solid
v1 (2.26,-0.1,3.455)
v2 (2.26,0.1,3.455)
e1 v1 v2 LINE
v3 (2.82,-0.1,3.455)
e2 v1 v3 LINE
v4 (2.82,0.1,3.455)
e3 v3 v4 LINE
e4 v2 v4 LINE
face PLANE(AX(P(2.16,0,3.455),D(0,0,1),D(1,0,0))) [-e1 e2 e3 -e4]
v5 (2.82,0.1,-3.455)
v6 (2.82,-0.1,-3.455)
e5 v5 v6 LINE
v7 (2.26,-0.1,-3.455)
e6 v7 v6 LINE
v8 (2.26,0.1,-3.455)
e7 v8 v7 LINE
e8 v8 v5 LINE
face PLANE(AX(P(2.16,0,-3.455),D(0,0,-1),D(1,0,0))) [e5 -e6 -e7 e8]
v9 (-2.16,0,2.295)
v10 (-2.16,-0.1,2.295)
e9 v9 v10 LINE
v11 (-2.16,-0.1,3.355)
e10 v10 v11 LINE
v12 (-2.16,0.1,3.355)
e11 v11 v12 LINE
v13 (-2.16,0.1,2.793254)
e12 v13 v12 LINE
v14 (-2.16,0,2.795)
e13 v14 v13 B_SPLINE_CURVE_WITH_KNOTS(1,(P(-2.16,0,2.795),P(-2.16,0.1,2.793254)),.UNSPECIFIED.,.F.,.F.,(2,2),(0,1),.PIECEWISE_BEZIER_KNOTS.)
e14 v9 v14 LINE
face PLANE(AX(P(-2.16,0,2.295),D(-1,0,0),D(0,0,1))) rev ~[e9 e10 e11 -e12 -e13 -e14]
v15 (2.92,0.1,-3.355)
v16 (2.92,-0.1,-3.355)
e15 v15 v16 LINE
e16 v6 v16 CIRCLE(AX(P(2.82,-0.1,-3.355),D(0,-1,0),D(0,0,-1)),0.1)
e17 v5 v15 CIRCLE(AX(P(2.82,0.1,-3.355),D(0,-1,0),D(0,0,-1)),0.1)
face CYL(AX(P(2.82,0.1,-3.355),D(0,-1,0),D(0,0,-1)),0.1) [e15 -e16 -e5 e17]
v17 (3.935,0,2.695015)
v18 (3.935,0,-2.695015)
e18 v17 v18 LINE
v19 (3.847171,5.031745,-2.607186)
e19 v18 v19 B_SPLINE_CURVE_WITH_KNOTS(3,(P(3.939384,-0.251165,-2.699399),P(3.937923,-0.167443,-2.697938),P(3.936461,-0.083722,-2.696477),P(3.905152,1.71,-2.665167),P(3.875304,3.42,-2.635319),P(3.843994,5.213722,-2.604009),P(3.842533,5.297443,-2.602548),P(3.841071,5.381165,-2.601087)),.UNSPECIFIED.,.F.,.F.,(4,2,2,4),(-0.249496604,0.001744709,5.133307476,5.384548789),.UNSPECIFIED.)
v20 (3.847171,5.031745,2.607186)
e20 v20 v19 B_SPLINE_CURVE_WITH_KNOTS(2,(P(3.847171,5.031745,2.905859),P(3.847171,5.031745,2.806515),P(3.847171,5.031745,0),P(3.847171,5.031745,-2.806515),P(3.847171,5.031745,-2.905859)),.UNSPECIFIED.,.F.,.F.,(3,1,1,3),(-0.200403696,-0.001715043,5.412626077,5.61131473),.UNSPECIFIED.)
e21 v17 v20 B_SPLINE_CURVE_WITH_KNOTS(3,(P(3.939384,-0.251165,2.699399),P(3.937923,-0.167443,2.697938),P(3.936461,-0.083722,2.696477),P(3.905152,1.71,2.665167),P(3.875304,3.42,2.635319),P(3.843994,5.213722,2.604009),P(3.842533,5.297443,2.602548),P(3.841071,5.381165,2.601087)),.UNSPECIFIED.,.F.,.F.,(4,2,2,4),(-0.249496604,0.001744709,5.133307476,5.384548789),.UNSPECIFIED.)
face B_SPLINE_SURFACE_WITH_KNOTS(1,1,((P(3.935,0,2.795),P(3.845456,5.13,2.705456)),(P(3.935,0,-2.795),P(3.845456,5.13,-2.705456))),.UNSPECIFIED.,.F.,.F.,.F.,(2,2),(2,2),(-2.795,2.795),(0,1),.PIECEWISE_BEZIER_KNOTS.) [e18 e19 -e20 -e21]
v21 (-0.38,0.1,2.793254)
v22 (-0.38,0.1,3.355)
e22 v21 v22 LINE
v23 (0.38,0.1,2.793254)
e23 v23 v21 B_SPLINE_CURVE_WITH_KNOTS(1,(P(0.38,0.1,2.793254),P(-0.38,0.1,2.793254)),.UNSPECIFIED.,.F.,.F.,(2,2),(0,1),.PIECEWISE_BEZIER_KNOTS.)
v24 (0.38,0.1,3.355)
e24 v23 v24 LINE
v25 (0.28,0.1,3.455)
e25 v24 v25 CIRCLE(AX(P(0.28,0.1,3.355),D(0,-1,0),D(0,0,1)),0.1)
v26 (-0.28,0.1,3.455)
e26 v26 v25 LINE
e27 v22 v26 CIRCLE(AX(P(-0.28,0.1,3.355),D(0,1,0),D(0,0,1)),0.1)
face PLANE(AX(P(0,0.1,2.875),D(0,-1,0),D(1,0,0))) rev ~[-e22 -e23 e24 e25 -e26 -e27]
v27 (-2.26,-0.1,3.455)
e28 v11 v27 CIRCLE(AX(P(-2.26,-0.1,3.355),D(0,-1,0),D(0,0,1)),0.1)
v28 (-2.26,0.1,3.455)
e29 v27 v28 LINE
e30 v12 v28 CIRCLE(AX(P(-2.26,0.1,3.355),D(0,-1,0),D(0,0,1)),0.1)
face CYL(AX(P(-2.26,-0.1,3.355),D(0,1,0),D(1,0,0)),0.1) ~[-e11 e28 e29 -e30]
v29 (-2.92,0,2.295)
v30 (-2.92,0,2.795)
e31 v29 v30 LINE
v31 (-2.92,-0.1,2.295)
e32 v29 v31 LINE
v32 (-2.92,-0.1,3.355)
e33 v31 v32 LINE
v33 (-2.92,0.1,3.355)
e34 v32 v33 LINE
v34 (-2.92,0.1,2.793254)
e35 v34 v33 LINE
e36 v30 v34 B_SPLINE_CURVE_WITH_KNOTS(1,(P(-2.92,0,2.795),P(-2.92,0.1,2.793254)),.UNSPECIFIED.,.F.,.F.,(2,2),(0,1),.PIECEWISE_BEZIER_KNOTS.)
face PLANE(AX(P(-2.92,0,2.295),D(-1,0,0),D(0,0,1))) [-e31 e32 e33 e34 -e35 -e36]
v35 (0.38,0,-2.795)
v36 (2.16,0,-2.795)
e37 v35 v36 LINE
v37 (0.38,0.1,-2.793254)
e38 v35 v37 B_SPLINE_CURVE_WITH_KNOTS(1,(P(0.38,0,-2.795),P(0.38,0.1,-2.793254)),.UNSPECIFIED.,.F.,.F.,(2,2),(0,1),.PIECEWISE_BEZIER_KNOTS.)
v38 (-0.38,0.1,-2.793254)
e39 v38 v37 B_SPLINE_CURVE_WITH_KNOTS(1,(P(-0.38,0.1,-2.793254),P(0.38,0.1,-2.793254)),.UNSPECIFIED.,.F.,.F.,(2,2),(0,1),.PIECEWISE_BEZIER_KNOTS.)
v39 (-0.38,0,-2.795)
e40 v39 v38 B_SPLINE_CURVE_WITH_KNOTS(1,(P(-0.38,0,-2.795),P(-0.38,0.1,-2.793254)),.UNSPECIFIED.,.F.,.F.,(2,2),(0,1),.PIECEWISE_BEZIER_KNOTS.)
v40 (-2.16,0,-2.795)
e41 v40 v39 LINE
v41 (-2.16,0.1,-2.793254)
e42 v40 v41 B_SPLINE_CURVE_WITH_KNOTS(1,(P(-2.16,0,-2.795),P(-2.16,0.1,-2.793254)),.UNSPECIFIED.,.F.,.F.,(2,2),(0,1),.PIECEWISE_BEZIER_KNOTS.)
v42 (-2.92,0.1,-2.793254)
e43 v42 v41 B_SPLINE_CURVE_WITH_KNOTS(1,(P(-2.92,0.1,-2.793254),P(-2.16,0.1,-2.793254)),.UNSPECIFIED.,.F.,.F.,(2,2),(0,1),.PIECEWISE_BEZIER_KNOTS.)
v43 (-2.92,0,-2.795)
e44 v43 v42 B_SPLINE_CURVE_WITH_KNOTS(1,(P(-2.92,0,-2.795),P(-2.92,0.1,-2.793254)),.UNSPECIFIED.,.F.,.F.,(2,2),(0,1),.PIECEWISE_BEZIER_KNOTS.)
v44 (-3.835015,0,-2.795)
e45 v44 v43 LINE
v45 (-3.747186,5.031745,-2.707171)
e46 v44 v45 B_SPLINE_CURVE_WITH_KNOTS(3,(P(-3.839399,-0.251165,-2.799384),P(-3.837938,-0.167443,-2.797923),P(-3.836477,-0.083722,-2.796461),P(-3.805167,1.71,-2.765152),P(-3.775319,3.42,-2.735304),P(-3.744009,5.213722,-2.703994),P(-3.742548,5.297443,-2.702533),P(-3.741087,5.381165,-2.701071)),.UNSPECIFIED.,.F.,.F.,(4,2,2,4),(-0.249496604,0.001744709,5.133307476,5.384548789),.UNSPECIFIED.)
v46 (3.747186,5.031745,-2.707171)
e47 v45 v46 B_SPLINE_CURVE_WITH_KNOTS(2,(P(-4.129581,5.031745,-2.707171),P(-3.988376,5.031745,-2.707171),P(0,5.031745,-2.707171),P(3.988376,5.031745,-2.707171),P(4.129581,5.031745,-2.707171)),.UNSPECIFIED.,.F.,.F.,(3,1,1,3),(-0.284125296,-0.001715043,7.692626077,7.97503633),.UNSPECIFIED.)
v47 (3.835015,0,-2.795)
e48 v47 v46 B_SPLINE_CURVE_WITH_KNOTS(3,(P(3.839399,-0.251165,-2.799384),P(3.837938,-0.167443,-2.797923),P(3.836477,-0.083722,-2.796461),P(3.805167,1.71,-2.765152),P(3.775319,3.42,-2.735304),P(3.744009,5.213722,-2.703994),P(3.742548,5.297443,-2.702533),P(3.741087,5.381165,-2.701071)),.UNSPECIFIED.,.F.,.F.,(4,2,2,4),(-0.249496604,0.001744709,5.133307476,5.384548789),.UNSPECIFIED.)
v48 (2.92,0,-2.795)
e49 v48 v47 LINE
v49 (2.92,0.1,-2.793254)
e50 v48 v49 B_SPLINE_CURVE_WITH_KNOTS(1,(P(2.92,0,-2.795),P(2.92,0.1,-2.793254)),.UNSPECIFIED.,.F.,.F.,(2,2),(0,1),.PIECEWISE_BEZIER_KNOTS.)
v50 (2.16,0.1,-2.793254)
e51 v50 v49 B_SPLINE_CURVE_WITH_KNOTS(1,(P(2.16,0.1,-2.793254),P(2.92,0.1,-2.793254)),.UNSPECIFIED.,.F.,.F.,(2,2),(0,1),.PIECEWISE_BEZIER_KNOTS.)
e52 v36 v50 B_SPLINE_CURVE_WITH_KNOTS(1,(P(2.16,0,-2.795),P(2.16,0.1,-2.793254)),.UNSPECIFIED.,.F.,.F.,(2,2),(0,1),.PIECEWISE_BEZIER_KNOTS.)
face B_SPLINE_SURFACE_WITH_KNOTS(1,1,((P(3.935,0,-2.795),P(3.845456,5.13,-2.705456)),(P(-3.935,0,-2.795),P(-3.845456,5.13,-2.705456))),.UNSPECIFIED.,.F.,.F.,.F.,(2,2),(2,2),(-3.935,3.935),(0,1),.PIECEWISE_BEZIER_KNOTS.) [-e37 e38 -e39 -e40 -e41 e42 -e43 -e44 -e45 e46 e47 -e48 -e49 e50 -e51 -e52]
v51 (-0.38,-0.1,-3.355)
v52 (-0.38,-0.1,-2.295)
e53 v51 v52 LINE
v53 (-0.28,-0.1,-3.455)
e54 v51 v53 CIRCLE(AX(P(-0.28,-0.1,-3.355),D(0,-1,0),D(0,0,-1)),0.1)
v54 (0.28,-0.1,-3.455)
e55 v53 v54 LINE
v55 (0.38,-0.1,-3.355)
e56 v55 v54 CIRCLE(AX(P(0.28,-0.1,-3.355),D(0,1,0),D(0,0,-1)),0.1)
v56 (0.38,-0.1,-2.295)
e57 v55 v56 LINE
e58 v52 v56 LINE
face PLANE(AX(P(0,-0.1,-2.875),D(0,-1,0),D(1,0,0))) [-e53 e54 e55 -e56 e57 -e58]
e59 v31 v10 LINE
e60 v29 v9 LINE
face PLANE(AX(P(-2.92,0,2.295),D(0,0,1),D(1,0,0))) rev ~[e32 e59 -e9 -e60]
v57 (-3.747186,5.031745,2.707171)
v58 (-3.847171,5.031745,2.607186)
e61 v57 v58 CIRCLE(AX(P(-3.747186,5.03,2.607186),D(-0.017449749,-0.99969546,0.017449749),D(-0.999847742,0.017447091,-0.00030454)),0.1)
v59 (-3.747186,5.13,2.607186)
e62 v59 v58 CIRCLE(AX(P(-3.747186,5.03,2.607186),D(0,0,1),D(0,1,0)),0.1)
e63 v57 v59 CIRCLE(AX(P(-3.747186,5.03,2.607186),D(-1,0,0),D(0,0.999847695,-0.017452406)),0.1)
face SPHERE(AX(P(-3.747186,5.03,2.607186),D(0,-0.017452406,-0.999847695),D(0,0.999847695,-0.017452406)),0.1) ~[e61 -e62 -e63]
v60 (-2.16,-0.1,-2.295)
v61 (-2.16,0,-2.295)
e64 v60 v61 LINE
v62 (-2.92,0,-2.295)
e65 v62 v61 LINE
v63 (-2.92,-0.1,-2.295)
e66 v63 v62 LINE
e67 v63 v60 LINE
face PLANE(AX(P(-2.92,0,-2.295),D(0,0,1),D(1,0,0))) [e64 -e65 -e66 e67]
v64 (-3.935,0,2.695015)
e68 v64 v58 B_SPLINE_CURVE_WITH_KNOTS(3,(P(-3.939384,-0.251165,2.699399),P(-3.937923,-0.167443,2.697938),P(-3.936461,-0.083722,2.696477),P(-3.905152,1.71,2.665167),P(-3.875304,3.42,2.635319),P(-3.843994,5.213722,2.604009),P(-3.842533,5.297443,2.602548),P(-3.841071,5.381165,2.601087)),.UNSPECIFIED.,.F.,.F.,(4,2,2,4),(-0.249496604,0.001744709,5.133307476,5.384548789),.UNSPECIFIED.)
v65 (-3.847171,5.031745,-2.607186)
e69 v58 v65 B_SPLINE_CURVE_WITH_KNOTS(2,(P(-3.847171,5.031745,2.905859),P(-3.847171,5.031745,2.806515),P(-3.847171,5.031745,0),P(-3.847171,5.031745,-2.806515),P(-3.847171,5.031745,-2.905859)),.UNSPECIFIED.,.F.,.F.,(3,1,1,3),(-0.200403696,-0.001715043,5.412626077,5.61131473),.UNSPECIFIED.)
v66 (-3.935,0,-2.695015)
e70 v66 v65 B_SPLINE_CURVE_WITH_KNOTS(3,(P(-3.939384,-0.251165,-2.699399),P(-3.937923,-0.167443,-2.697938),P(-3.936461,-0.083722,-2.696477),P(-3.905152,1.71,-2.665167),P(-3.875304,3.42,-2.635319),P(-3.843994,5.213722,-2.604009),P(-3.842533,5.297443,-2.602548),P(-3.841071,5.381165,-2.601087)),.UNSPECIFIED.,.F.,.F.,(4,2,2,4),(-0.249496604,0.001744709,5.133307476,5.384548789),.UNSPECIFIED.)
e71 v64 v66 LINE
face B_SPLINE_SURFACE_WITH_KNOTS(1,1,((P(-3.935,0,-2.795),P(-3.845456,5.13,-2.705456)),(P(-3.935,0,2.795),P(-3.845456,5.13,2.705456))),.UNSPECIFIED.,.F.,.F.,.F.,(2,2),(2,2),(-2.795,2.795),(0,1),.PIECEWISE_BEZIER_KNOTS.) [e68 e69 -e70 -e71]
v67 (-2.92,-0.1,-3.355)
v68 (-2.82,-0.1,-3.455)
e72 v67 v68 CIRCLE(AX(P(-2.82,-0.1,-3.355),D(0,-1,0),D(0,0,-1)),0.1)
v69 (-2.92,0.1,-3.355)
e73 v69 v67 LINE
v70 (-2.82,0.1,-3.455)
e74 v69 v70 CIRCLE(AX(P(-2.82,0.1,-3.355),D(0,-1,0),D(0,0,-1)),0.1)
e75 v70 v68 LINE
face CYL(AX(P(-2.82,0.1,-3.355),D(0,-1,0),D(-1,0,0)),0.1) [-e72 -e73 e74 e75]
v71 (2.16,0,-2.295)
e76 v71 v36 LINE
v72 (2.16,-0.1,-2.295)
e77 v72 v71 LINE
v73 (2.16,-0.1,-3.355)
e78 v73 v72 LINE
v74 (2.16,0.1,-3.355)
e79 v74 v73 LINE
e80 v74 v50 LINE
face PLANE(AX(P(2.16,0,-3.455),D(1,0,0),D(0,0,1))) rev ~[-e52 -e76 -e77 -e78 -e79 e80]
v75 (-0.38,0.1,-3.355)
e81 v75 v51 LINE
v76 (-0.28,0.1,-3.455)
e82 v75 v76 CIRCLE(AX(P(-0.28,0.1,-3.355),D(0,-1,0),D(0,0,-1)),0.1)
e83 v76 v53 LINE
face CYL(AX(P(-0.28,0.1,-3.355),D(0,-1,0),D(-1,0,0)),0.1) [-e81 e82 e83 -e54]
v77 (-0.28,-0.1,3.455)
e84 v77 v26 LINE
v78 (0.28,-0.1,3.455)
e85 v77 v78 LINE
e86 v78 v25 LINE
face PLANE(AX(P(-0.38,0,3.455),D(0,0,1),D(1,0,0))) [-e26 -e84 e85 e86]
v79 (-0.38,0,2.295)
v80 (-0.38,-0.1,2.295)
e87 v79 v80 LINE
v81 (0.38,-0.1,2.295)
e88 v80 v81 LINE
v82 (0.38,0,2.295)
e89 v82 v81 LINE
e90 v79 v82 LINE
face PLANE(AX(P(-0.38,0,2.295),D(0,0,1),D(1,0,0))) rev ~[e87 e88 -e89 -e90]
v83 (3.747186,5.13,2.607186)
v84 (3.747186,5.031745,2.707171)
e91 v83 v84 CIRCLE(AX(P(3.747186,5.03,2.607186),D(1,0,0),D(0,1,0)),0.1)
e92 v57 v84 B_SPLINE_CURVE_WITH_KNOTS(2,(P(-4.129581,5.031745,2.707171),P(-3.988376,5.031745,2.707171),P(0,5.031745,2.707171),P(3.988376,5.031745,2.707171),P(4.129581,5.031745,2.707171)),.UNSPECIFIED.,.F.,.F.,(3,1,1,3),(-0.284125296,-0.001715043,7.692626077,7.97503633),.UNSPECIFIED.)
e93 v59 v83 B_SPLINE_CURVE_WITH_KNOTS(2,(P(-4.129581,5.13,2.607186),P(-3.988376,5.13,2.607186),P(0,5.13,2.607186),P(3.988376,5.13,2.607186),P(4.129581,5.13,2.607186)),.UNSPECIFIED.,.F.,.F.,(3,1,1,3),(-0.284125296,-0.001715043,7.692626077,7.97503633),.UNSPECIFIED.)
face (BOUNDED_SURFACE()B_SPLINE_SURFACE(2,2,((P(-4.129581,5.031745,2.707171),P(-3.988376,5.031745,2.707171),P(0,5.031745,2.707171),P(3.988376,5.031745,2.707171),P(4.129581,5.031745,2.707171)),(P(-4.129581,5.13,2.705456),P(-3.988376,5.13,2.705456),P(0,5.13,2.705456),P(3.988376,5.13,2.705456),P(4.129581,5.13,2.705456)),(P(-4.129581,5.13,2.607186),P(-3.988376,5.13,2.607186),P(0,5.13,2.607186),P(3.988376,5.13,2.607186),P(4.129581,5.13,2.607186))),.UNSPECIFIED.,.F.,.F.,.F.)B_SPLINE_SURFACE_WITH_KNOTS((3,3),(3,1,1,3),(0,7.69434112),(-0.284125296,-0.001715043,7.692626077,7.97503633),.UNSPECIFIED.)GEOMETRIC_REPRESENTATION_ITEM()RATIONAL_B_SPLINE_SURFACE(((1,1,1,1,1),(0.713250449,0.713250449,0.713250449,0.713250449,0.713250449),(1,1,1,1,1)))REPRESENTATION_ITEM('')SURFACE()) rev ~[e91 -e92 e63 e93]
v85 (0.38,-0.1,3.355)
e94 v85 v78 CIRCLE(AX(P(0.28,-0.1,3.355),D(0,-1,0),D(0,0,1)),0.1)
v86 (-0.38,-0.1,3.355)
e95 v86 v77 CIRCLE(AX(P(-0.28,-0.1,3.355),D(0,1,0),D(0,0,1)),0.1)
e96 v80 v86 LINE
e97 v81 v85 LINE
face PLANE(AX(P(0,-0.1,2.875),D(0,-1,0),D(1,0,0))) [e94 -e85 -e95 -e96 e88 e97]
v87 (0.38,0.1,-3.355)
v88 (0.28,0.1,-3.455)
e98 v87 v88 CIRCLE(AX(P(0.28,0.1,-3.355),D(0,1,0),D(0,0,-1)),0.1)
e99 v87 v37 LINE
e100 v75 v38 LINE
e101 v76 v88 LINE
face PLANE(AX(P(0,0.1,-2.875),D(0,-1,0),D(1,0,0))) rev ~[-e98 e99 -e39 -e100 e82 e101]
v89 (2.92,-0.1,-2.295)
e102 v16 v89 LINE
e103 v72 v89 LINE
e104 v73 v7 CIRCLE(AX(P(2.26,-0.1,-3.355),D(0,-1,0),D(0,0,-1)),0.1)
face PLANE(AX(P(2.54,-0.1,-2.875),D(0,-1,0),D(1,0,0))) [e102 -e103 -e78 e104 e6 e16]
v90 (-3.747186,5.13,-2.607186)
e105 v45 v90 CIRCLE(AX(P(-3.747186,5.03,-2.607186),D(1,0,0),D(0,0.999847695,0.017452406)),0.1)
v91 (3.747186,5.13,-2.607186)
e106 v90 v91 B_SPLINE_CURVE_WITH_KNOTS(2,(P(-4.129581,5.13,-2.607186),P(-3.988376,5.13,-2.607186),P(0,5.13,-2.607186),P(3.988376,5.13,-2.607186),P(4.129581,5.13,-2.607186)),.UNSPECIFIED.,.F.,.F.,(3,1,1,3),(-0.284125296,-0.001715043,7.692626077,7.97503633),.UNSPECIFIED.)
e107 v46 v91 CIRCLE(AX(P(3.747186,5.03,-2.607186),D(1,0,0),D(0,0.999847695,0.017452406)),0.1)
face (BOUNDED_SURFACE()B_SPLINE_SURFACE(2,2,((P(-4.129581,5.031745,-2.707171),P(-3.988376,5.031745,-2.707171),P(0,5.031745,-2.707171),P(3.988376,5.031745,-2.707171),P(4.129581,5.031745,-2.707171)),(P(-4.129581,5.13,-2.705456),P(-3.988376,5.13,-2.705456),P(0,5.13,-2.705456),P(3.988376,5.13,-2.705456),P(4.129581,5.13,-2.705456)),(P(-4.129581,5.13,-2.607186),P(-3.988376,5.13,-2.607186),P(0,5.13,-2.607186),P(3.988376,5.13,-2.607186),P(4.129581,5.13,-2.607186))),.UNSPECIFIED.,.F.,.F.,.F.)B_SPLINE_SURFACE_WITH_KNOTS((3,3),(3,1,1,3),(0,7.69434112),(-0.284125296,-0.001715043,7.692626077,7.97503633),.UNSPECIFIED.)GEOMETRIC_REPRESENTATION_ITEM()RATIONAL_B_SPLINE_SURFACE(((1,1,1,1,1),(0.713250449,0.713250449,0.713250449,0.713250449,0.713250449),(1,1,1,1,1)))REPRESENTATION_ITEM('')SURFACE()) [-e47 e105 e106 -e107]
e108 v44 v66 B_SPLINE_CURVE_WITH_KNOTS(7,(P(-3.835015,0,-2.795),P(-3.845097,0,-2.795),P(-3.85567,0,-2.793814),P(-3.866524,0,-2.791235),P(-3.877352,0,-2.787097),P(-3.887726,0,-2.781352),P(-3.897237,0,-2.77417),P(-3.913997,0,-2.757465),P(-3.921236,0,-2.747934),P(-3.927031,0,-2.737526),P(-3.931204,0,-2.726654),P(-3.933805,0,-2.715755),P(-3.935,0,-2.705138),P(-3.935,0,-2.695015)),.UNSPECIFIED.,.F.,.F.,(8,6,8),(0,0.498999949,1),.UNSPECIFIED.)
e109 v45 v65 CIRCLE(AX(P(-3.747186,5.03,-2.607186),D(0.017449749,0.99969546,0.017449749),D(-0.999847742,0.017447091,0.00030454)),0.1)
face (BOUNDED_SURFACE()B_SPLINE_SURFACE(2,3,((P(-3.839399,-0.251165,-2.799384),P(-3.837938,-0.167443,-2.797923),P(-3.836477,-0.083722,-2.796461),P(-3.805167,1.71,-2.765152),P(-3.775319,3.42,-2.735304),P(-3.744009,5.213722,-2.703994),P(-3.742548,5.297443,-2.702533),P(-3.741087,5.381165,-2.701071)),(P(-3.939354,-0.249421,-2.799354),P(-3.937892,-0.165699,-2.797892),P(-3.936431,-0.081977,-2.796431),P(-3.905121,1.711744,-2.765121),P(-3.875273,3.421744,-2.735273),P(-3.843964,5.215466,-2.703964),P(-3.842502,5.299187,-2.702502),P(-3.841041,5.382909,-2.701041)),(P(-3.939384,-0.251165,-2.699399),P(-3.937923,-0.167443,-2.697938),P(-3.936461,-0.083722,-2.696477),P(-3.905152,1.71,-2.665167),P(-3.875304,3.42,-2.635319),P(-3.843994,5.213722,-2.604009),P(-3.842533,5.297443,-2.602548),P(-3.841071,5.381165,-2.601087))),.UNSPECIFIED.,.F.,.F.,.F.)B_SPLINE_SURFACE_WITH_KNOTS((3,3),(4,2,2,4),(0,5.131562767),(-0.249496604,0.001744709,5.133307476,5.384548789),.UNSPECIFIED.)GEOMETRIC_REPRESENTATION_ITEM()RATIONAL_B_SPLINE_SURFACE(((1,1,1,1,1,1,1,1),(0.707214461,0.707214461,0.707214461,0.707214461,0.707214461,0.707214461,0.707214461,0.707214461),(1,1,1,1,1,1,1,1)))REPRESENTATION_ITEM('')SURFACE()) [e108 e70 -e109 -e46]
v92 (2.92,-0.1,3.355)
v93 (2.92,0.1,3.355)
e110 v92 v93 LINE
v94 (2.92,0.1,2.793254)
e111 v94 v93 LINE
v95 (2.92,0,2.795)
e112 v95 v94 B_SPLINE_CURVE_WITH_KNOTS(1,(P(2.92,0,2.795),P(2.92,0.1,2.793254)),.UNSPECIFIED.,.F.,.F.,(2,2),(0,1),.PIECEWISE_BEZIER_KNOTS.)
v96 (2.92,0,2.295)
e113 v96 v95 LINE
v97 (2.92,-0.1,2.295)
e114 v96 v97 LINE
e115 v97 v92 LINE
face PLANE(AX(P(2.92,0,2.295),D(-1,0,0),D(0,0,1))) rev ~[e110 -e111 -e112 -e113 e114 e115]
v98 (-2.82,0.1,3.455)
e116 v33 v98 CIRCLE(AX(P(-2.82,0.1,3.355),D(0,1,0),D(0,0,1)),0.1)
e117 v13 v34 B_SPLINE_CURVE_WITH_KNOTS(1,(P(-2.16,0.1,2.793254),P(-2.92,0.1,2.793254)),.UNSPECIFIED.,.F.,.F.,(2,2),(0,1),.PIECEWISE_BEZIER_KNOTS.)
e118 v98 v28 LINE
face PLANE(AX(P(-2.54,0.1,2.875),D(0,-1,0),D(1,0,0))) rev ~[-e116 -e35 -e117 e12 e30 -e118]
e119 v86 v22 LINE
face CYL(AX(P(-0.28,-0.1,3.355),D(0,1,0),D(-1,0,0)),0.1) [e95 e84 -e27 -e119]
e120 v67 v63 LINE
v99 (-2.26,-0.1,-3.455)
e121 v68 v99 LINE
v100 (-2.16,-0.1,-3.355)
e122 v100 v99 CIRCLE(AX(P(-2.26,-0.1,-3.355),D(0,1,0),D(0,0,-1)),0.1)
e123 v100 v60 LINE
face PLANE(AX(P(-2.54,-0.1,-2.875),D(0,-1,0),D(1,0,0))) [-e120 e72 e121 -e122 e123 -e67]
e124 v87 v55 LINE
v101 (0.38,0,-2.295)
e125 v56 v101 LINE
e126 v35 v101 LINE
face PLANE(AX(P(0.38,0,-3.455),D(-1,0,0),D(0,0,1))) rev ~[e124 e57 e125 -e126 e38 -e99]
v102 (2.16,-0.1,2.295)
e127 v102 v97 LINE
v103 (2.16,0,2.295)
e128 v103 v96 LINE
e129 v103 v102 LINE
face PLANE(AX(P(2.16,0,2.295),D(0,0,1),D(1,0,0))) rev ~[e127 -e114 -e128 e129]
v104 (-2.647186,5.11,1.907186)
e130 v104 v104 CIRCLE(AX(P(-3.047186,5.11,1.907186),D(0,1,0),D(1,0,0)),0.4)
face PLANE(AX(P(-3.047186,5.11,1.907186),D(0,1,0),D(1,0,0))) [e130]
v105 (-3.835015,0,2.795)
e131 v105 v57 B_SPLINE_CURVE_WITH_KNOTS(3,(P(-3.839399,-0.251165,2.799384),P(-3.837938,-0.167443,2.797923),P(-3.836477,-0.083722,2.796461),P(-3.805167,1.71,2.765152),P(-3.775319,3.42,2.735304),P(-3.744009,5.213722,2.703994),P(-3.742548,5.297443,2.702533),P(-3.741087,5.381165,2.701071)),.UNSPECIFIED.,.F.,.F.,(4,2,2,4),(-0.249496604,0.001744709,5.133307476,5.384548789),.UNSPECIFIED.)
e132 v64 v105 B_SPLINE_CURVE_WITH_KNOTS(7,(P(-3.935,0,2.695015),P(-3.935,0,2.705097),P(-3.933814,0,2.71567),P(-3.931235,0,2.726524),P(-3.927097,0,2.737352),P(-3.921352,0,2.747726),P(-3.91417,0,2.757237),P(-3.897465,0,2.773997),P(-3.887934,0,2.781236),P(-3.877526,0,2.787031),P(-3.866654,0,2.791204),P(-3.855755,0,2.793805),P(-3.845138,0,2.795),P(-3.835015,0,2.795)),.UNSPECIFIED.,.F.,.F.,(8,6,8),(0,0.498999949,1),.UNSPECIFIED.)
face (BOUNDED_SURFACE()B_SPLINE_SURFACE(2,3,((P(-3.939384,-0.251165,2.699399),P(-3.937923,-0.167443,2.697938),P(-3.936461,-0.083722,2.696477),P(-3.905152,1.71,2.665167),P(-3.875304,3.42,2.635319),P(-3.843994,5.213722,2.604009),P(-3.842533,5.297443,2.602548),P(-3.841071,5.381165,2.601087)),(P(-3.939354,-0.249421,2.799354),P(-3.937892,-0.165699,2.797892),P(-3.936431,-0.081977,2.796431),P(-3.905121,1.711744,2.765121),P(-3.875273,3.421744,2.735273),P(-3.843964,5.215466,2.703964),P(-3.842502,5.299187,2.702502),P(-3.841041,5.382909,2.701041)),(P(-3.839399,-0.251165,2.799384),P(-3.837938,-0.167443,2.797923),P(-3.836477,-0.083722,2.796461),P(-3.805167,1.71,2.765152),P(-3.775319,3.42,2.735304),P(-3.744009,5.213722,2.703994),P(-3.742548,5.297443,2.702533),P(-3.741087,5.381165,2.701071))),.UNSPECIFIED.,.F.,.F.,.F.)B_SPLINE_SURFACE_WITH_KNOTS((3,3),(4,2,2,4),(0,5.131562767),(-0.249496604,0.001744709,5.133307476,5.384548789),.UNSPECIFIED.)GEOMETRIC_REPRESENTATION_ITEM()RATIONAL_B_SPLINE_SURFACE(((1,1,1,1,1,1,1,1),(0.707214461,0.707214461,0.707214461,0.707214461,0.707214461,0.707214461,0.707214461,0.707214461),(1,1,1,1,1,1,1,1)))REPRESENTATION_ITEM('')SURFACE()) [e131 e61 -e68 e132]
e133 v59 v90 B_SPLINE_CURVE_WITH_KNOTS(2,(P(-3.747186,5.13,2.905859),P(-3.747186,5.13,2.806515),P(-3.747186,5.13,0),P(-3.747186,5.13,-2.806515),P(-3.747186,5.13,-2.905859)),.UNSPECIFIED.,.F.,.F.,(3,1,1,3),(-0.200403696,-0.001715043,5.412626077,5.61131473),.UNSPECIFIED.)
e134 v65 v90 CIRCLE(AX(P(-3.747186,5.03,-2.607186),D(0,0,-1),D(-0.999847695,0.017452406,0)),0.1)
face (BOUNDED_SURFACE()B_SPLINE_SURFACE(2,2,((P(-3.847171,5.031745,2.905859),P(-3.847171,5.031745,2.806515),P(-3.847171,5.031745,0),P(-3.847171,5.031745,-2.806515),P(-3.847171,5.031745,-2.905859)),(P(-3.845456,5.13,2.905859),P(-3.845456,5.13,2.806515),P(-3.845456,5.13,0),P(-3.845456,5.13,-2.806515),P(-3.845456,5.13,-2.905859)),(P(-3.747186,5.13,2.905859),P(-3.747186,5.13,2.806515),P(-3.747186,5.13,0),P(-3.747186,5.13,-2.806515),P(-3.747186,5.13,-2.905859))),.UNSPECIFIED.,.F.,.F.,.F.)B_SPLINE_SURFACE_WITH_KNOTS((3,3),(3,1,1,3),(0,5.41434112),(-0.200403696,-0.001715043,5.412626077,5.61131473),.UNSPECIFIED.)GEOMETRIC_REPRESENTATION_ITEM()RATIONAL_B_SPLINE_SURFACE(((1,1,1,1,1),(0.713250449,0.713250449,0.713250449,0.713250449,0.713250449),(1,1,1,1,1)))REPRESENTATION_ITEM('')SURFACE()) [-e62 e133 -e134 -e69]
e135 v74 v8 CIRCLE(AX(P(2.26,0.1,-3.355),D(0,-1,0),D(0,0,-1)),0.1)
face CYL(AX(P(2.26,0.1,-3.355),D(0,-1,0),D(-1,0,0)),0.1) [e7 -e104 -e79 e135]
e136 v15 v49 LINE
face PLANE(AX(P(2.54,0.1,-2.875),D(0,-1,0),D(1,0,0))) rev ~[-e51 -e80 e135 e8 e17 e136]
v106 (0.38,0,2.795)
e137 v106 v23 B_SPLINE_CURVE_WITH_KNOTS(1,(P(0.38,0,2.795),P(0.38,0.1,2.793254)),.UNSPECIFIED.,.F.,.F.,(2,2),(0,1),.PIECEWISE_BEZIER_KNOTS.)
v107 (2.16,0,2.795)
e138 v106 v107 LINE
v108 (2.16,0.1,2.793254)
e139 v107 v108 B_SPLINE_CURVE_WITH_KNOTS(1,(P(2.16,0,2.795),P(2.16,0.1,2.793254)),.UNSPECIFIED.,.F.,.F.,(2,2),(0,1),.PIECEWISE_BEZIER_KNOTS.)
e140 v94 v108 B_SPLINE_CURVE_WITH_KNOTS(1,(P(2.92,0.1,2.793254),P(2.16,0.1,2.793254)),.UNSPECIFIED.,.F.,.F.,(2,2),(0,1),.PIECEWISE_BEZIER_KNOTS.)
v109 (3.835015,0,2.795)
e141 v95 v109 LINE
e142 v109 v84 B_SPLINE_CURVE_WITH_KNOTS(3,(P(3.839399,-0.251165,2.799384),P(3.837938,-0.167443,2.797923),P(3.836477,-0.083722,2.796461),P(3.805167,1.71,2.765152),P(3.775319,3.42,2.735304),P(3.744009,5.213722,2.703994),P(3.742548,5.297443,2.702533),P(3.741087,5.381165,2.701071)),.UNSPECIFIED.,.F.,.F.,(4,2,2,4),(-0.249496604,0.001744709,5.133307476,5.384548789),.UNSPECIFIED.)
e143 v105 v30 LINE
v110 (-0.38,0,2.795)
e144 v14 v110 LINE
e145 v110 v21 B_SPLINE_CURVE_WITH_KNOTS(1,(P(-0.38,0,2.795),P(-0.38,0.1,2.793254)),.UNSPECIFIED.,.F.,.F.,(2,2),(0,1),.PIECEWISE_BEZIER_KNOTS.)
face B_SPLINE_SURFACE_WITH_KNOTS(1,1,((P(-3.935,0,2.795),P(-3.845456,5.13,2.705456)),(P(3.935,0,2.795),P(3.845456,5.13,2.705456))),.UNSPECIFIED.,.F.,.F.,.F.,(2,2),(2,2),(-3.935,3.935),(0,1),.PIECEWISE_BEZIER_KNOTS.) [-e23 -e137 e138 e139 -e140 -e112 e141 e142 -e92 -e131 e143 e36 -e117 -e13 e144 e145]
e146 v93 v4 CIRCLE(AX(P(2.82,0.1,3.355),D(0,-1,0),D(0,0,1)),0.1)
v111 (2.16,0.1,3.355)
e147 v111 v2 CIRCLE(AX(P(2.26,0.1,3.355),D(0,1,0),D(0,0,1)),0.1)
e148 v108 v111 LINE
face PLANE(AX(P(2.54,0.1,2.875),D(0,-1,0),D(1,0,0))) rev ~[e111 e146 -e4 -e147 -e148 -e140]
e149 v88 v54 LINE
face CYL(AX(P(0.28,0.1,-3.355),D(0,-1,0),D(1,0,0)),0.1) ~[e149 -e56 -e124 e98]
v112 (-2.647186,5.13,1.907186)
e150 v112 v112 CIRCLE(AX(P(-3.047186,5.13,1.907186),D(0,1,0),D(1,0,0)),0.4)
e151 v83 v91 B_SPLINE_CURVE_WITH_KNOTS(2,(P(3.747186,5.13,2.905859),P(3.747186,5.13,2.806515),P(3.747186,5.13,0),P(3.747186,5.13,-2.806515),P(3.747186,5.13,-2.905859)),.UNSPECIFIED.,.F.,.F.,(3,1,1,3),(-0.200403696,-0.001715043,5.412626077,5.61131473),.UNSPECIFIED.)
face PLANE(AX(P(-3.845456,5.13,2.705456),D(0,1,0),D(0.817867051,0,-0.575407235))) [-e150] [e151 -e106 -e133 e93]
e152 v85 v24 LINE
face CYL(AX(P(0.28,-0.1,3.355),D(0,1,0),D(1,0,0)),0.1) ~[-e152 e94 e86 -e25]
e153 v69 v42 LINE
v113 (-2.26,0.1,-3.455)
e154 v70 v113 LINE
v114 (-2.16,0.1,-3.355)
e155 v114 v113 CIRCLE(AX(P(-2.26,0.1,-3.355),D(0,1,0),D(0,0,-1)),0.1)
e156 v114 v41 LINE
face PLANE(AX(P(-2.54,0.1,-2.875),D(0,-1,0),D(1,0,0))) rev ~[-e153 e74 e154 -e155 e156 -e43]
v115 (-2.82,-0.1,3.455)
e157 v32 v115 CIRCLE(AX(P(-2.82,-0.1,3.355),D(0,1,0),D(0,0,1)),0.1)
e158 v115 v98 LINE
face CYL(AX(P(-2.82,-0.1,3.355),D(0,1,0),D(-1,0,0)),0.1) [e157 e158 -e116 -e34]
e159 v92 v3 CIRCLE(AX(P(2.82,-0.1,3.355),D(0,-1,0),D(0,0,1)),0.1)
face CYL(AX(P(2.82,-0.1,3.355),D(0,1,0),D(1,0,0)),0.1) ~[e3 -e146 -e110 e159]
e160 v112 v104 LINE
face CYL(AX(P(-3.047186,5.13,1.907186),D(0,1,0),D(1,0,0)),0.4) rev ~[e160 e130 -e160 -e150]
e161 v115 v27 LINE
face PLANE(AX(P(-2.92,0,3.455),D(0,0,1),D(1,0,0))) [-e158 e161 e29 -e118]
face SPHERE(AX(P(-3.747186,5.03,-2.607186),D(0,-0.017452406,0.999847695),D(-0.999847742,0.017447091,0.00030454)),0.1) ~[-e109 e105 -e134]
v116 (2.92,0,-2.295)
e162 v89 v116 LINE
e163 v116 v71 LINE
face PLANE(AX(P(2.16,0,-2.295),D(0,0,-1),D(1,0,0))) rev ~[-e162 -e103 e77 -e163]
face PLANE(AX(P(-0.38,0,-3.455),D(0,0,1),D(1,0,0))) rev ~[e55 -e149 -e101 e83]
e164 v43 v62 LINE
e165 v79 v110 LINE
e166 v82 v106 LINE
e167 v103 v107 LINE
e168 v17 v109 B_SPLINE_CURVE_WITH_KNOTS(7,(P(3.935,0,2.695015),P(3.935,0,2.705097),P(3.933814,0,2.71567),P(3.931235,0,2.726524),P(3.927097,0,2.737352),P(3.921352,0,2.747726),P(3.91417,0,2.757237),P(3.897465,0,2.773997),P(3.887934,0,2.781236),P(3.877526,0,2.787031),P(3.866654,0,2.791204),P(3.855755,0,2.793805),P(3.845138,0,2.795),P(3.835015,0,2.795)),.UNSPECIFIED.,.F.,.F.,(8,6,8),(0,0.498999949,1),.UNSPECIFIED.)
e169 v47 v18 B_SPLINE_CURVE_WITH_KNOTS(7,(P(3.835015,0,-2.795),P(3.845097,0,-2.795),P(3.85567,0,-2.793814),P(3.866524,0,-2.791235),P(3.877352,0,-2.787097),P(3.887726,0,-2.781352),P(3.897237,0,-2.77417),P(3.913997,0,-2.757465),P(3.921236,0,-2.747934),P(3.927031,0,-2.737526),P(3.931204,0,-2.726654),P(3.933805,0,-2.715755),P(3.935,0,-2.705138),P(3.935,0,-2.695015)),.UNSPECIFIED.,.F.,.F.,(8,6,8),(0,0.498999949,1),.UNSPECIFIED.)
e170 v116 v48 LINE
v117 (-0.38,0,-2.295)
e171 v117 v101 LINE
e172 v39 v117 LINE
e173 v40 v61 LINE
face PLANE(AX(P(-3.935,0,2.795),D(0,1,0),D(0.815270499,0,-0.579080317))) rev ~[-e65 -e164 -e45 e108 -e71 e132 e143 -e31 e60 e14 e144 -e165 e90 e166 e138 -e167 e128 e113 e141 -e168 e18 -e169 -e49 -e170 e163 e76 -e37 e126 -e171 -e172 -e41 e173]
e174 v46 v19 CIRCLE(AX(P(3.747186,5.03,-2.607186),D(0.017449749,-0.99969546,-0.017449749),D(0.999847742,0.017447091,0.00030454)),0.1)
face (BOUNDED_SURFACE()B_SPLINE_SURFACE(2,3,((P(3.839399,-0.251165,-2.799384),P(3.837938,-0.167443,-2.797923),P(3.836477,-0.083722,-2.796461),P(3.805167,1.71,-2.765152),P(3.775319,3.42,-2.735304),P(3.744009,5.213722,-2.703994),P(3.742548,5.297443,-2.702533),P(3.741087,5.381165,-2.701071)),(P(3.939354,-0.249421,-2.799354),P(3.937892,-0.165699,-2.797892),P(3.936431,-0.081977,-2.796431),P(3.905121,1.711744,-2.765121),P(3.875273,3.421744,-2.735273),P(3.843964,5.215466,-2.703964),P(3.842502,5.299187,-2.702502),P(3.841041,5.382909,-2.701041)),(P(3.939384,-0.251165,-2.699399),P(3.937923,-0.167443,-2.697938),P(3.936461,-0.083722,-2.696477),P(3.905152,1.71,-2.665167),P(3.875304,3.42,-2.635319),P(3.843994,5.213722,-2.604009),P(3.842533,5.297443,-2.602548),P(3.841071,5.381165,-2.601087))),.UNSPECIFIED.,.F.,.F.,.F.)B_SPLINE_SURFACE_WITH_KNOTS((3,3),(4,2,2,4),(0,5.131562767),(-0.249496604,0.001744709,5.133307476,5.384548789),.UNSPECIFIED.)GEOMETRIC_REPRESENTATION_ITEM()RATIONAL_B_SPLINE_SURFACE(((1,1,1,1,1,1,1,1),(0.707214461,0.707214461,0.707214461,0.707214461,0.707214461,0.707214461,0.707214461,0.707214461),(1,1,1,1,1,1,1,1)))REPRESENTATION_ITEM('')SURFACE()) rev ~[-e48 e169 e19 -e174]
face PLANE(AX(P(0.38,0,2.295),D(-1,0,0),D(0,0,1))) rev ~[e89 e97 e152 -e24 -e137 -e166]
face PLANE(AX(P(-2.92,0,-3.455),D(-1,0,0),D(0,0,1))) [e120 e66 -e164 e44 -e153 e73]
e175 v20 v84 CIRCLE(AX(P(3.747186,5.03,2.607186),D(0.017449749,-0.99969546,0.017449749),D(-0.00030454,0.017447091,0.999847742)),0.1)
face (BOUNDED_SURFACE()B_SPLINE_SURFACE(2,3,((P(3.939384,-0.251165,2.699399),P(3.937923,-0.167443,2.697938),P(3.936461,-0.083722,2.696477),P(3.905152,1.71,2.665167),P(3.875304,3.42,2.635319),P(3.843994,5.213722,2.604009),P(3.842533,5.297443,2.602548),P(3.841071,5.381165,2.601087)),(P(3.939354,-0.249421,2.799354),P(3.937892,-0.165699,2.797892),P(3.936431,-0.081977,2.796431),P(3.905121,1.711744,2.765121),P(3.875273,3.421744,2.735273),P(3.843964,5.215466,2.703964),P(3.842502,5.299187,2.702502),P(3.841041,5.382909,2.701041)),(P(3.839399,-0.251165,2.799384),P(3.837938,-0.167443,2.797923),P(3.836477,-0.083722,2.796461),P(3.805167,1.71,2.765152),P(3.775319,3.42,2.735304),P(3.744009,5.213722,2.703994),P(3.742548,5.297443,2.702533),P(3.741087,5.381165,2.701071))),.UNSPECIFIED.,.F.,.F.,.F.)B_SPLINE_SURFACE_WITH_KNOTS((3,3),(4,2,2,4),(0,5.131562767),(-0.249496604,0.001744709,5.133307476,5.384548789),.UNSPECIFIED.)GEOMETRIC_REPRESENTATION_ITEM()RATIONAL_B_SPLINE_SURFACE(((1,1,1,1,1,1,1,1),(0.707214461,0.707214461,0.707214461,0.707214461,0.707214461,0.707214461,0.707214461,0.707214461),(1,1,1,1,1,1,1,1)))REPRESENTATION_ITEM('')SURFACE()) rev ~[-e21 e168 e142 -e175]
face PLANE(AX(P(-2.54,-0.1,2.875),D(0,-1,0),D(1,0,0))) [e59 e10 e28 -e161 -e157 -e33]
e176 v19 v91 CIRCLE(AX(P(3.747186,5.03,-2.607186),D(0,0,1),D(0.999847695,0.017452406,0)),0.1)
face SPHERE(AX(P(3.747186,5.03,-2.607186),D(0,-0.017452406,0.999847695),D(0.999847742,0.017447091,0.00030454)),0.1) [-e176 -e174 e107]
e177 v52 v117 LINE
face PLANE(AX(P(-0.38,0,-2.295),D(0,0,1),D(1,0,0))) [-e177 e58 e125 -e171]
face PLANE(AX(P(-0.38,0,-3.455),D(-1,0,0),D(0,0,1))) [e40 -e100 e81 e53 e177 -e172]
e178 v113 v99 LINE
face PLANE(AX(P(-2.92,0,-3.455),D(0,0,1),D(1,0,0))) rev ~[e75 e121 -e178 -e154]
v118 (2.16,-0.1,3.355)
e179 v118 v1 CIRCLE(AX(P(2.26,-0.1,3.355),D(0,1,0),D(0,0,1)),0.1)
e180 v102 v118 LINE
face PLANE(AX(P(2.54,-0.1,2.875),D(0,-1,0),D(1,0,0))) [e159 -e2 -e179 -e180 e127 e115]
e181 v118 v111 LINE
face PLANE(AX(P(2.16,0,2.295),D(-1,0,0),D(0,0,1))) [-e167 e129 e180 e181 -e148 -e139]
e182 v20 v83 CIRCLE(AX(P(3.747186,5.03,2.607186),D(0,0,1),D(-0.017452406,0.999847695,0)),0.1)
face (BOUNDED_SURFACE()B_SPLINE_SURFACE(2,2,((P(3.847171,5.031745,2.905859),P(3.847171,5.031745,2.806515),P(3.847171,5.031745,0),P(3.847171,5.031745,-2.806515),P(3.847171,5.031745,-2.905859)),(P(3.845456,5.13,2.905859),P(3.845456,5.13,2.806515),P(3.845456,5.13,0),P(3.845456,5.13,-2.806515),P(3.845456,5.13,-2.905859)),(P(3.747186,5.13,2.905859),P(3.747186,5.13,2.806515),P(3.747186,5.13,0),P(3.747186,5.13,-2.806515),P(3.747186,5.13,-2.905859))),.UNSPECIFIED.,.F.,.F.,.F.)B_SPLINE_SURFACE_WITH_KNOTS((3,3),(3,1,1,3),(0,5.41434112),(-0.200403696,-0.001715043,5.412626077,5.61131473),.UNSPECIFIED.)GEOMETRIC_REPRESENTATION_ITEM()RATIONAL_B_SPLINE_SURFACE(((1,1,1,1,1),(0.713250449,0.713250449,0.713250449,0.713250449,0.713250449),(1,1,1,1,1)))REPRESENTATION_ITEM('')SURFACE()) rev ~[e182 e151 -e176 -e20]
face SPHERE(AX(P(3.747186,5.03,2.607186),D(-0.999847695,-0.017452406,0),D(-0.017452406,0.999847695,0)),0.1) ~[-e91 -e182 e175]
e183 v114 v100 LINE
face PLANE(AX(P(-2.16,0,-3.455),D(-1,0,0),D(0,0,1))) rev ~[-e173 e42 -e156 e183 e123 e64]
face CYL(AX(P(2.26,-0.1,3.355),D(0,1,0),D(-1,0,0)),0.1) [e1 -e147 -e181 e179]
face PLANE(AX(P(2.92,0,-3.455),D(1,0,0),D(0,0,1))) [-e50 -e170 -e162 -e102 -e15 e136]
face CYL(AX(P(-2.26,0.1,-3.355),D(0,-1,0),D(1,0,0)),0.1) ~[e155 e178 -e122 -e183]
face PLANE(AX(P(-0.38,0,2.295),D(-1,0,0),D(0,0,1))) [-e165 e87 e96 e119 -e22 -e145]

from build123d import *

# Parameters (mm, degrees)
SKETCH1_W           = 7.87
SKETCH1_H           = 5.59
BOSS_EXTRUDE1_DEPTH = 5.13
BOSS_EXTRUDE1_TAPER = 1
SKETCH2_W           = 0.76
SKETCH2_H           = 1.16
BOSS_EXTRUDE2_DEPTH = 0.1
FILLET1_R           = 0.1
SKETCH3_R           = 0.4
CUT_EXTRUDE1_DEPTH  = 0.02


with BuildPart() as part:
    # Sketch1 → Boss-Extrude1 (new body)
    with BuildSketch(Plane(origin=(0, 0, 0), x_dir=(1, 0, 0), z_dir=(0, 1, 0))):
        Rectangle(SKETCH1_W, SKETCH1_H)
    extrude(amount=BOSS_EXTRUDE1_DEPTH, taper=BOSS_EXTRUDE1_TAPER)

    # Sketch2 → Boss-Extrude2 (add, symmetric)
    with BuildSketch(Plane.XZ):
        with Locations((0, 2.875)):
            Rectangle(SKETCH2_W, SKETCH2_H)
        with Locations((2.54, 2.875)):
            Rectangle(SKETCH2_W, SKETCH2_H)
        with Locations((-2.54, 2.875)):
            Rectangle(SKETCH2_W, SKETCH2_H)
        with Locations((-2.54, -2.875)):
            Rectangle(SKETCH2_W, SKETCH2_H)
        with Locations((0, -2.875)):
            Rectangle(SKETCH2_W, SKETCH2_H)
        with Locations((2.54, -2.875)):
            Rectangle(SKETCH2_W, SKETCH2_H)
    extrude(amount=BOSS_EXTRUDE2_DEPTH, both=True)

    # Fillet1
    fillet1_edges = [part.edges().sort_by_distance(p)[0] for p in [
        (2.92, 0, -3.455),
        (2.16, 0, -3.455),
        (-3.845455517, 5.13, 0),
        (0, 5.13, 2.705455517),
        (-0.38, 0, 3.455),
        (0.38, 0, 3.455),
        (-2.92, 0, 3.455),
        (-2.16, 0, 3.455),
        (3.845455517, 5.13, 0),
        (2.16, 0, 3.455),
        (2.92, 0, 3.455),
        (-2.16, 0, -3.455),
        (-2.92, 0, -3.455),
        (3.890227758, 2.565, 2.750227758),
        (-3.890227758, 2.565, 2.750227758),
        (-3.890227758, 2.565, -2.750227758),
        (3.890227758, 2.565, -2.750227758),
        (0.38, 0, -3.455),
        (-0.38, 0, -3.455),
        (0, 5.13, -2.705455517),
    ]]
    fillet(fillet1_edges, radius=FILLET1_R)

    # Sketch3 → Cut-Extrude1 (cut)
    with BuildSketch(Plane(origin=(0, 5.13, 0), x_dir=(1, 0, 0), z_dir=(0, 1, 0))):
        with Locations((-3.047185791, -1.907185791)):
            Circle(SKETCH3_R)
    extrude(amount=-CUT_EXTRUDE1_DEPTH, mode=Mode.SUBTRACT)


solid = part.part
